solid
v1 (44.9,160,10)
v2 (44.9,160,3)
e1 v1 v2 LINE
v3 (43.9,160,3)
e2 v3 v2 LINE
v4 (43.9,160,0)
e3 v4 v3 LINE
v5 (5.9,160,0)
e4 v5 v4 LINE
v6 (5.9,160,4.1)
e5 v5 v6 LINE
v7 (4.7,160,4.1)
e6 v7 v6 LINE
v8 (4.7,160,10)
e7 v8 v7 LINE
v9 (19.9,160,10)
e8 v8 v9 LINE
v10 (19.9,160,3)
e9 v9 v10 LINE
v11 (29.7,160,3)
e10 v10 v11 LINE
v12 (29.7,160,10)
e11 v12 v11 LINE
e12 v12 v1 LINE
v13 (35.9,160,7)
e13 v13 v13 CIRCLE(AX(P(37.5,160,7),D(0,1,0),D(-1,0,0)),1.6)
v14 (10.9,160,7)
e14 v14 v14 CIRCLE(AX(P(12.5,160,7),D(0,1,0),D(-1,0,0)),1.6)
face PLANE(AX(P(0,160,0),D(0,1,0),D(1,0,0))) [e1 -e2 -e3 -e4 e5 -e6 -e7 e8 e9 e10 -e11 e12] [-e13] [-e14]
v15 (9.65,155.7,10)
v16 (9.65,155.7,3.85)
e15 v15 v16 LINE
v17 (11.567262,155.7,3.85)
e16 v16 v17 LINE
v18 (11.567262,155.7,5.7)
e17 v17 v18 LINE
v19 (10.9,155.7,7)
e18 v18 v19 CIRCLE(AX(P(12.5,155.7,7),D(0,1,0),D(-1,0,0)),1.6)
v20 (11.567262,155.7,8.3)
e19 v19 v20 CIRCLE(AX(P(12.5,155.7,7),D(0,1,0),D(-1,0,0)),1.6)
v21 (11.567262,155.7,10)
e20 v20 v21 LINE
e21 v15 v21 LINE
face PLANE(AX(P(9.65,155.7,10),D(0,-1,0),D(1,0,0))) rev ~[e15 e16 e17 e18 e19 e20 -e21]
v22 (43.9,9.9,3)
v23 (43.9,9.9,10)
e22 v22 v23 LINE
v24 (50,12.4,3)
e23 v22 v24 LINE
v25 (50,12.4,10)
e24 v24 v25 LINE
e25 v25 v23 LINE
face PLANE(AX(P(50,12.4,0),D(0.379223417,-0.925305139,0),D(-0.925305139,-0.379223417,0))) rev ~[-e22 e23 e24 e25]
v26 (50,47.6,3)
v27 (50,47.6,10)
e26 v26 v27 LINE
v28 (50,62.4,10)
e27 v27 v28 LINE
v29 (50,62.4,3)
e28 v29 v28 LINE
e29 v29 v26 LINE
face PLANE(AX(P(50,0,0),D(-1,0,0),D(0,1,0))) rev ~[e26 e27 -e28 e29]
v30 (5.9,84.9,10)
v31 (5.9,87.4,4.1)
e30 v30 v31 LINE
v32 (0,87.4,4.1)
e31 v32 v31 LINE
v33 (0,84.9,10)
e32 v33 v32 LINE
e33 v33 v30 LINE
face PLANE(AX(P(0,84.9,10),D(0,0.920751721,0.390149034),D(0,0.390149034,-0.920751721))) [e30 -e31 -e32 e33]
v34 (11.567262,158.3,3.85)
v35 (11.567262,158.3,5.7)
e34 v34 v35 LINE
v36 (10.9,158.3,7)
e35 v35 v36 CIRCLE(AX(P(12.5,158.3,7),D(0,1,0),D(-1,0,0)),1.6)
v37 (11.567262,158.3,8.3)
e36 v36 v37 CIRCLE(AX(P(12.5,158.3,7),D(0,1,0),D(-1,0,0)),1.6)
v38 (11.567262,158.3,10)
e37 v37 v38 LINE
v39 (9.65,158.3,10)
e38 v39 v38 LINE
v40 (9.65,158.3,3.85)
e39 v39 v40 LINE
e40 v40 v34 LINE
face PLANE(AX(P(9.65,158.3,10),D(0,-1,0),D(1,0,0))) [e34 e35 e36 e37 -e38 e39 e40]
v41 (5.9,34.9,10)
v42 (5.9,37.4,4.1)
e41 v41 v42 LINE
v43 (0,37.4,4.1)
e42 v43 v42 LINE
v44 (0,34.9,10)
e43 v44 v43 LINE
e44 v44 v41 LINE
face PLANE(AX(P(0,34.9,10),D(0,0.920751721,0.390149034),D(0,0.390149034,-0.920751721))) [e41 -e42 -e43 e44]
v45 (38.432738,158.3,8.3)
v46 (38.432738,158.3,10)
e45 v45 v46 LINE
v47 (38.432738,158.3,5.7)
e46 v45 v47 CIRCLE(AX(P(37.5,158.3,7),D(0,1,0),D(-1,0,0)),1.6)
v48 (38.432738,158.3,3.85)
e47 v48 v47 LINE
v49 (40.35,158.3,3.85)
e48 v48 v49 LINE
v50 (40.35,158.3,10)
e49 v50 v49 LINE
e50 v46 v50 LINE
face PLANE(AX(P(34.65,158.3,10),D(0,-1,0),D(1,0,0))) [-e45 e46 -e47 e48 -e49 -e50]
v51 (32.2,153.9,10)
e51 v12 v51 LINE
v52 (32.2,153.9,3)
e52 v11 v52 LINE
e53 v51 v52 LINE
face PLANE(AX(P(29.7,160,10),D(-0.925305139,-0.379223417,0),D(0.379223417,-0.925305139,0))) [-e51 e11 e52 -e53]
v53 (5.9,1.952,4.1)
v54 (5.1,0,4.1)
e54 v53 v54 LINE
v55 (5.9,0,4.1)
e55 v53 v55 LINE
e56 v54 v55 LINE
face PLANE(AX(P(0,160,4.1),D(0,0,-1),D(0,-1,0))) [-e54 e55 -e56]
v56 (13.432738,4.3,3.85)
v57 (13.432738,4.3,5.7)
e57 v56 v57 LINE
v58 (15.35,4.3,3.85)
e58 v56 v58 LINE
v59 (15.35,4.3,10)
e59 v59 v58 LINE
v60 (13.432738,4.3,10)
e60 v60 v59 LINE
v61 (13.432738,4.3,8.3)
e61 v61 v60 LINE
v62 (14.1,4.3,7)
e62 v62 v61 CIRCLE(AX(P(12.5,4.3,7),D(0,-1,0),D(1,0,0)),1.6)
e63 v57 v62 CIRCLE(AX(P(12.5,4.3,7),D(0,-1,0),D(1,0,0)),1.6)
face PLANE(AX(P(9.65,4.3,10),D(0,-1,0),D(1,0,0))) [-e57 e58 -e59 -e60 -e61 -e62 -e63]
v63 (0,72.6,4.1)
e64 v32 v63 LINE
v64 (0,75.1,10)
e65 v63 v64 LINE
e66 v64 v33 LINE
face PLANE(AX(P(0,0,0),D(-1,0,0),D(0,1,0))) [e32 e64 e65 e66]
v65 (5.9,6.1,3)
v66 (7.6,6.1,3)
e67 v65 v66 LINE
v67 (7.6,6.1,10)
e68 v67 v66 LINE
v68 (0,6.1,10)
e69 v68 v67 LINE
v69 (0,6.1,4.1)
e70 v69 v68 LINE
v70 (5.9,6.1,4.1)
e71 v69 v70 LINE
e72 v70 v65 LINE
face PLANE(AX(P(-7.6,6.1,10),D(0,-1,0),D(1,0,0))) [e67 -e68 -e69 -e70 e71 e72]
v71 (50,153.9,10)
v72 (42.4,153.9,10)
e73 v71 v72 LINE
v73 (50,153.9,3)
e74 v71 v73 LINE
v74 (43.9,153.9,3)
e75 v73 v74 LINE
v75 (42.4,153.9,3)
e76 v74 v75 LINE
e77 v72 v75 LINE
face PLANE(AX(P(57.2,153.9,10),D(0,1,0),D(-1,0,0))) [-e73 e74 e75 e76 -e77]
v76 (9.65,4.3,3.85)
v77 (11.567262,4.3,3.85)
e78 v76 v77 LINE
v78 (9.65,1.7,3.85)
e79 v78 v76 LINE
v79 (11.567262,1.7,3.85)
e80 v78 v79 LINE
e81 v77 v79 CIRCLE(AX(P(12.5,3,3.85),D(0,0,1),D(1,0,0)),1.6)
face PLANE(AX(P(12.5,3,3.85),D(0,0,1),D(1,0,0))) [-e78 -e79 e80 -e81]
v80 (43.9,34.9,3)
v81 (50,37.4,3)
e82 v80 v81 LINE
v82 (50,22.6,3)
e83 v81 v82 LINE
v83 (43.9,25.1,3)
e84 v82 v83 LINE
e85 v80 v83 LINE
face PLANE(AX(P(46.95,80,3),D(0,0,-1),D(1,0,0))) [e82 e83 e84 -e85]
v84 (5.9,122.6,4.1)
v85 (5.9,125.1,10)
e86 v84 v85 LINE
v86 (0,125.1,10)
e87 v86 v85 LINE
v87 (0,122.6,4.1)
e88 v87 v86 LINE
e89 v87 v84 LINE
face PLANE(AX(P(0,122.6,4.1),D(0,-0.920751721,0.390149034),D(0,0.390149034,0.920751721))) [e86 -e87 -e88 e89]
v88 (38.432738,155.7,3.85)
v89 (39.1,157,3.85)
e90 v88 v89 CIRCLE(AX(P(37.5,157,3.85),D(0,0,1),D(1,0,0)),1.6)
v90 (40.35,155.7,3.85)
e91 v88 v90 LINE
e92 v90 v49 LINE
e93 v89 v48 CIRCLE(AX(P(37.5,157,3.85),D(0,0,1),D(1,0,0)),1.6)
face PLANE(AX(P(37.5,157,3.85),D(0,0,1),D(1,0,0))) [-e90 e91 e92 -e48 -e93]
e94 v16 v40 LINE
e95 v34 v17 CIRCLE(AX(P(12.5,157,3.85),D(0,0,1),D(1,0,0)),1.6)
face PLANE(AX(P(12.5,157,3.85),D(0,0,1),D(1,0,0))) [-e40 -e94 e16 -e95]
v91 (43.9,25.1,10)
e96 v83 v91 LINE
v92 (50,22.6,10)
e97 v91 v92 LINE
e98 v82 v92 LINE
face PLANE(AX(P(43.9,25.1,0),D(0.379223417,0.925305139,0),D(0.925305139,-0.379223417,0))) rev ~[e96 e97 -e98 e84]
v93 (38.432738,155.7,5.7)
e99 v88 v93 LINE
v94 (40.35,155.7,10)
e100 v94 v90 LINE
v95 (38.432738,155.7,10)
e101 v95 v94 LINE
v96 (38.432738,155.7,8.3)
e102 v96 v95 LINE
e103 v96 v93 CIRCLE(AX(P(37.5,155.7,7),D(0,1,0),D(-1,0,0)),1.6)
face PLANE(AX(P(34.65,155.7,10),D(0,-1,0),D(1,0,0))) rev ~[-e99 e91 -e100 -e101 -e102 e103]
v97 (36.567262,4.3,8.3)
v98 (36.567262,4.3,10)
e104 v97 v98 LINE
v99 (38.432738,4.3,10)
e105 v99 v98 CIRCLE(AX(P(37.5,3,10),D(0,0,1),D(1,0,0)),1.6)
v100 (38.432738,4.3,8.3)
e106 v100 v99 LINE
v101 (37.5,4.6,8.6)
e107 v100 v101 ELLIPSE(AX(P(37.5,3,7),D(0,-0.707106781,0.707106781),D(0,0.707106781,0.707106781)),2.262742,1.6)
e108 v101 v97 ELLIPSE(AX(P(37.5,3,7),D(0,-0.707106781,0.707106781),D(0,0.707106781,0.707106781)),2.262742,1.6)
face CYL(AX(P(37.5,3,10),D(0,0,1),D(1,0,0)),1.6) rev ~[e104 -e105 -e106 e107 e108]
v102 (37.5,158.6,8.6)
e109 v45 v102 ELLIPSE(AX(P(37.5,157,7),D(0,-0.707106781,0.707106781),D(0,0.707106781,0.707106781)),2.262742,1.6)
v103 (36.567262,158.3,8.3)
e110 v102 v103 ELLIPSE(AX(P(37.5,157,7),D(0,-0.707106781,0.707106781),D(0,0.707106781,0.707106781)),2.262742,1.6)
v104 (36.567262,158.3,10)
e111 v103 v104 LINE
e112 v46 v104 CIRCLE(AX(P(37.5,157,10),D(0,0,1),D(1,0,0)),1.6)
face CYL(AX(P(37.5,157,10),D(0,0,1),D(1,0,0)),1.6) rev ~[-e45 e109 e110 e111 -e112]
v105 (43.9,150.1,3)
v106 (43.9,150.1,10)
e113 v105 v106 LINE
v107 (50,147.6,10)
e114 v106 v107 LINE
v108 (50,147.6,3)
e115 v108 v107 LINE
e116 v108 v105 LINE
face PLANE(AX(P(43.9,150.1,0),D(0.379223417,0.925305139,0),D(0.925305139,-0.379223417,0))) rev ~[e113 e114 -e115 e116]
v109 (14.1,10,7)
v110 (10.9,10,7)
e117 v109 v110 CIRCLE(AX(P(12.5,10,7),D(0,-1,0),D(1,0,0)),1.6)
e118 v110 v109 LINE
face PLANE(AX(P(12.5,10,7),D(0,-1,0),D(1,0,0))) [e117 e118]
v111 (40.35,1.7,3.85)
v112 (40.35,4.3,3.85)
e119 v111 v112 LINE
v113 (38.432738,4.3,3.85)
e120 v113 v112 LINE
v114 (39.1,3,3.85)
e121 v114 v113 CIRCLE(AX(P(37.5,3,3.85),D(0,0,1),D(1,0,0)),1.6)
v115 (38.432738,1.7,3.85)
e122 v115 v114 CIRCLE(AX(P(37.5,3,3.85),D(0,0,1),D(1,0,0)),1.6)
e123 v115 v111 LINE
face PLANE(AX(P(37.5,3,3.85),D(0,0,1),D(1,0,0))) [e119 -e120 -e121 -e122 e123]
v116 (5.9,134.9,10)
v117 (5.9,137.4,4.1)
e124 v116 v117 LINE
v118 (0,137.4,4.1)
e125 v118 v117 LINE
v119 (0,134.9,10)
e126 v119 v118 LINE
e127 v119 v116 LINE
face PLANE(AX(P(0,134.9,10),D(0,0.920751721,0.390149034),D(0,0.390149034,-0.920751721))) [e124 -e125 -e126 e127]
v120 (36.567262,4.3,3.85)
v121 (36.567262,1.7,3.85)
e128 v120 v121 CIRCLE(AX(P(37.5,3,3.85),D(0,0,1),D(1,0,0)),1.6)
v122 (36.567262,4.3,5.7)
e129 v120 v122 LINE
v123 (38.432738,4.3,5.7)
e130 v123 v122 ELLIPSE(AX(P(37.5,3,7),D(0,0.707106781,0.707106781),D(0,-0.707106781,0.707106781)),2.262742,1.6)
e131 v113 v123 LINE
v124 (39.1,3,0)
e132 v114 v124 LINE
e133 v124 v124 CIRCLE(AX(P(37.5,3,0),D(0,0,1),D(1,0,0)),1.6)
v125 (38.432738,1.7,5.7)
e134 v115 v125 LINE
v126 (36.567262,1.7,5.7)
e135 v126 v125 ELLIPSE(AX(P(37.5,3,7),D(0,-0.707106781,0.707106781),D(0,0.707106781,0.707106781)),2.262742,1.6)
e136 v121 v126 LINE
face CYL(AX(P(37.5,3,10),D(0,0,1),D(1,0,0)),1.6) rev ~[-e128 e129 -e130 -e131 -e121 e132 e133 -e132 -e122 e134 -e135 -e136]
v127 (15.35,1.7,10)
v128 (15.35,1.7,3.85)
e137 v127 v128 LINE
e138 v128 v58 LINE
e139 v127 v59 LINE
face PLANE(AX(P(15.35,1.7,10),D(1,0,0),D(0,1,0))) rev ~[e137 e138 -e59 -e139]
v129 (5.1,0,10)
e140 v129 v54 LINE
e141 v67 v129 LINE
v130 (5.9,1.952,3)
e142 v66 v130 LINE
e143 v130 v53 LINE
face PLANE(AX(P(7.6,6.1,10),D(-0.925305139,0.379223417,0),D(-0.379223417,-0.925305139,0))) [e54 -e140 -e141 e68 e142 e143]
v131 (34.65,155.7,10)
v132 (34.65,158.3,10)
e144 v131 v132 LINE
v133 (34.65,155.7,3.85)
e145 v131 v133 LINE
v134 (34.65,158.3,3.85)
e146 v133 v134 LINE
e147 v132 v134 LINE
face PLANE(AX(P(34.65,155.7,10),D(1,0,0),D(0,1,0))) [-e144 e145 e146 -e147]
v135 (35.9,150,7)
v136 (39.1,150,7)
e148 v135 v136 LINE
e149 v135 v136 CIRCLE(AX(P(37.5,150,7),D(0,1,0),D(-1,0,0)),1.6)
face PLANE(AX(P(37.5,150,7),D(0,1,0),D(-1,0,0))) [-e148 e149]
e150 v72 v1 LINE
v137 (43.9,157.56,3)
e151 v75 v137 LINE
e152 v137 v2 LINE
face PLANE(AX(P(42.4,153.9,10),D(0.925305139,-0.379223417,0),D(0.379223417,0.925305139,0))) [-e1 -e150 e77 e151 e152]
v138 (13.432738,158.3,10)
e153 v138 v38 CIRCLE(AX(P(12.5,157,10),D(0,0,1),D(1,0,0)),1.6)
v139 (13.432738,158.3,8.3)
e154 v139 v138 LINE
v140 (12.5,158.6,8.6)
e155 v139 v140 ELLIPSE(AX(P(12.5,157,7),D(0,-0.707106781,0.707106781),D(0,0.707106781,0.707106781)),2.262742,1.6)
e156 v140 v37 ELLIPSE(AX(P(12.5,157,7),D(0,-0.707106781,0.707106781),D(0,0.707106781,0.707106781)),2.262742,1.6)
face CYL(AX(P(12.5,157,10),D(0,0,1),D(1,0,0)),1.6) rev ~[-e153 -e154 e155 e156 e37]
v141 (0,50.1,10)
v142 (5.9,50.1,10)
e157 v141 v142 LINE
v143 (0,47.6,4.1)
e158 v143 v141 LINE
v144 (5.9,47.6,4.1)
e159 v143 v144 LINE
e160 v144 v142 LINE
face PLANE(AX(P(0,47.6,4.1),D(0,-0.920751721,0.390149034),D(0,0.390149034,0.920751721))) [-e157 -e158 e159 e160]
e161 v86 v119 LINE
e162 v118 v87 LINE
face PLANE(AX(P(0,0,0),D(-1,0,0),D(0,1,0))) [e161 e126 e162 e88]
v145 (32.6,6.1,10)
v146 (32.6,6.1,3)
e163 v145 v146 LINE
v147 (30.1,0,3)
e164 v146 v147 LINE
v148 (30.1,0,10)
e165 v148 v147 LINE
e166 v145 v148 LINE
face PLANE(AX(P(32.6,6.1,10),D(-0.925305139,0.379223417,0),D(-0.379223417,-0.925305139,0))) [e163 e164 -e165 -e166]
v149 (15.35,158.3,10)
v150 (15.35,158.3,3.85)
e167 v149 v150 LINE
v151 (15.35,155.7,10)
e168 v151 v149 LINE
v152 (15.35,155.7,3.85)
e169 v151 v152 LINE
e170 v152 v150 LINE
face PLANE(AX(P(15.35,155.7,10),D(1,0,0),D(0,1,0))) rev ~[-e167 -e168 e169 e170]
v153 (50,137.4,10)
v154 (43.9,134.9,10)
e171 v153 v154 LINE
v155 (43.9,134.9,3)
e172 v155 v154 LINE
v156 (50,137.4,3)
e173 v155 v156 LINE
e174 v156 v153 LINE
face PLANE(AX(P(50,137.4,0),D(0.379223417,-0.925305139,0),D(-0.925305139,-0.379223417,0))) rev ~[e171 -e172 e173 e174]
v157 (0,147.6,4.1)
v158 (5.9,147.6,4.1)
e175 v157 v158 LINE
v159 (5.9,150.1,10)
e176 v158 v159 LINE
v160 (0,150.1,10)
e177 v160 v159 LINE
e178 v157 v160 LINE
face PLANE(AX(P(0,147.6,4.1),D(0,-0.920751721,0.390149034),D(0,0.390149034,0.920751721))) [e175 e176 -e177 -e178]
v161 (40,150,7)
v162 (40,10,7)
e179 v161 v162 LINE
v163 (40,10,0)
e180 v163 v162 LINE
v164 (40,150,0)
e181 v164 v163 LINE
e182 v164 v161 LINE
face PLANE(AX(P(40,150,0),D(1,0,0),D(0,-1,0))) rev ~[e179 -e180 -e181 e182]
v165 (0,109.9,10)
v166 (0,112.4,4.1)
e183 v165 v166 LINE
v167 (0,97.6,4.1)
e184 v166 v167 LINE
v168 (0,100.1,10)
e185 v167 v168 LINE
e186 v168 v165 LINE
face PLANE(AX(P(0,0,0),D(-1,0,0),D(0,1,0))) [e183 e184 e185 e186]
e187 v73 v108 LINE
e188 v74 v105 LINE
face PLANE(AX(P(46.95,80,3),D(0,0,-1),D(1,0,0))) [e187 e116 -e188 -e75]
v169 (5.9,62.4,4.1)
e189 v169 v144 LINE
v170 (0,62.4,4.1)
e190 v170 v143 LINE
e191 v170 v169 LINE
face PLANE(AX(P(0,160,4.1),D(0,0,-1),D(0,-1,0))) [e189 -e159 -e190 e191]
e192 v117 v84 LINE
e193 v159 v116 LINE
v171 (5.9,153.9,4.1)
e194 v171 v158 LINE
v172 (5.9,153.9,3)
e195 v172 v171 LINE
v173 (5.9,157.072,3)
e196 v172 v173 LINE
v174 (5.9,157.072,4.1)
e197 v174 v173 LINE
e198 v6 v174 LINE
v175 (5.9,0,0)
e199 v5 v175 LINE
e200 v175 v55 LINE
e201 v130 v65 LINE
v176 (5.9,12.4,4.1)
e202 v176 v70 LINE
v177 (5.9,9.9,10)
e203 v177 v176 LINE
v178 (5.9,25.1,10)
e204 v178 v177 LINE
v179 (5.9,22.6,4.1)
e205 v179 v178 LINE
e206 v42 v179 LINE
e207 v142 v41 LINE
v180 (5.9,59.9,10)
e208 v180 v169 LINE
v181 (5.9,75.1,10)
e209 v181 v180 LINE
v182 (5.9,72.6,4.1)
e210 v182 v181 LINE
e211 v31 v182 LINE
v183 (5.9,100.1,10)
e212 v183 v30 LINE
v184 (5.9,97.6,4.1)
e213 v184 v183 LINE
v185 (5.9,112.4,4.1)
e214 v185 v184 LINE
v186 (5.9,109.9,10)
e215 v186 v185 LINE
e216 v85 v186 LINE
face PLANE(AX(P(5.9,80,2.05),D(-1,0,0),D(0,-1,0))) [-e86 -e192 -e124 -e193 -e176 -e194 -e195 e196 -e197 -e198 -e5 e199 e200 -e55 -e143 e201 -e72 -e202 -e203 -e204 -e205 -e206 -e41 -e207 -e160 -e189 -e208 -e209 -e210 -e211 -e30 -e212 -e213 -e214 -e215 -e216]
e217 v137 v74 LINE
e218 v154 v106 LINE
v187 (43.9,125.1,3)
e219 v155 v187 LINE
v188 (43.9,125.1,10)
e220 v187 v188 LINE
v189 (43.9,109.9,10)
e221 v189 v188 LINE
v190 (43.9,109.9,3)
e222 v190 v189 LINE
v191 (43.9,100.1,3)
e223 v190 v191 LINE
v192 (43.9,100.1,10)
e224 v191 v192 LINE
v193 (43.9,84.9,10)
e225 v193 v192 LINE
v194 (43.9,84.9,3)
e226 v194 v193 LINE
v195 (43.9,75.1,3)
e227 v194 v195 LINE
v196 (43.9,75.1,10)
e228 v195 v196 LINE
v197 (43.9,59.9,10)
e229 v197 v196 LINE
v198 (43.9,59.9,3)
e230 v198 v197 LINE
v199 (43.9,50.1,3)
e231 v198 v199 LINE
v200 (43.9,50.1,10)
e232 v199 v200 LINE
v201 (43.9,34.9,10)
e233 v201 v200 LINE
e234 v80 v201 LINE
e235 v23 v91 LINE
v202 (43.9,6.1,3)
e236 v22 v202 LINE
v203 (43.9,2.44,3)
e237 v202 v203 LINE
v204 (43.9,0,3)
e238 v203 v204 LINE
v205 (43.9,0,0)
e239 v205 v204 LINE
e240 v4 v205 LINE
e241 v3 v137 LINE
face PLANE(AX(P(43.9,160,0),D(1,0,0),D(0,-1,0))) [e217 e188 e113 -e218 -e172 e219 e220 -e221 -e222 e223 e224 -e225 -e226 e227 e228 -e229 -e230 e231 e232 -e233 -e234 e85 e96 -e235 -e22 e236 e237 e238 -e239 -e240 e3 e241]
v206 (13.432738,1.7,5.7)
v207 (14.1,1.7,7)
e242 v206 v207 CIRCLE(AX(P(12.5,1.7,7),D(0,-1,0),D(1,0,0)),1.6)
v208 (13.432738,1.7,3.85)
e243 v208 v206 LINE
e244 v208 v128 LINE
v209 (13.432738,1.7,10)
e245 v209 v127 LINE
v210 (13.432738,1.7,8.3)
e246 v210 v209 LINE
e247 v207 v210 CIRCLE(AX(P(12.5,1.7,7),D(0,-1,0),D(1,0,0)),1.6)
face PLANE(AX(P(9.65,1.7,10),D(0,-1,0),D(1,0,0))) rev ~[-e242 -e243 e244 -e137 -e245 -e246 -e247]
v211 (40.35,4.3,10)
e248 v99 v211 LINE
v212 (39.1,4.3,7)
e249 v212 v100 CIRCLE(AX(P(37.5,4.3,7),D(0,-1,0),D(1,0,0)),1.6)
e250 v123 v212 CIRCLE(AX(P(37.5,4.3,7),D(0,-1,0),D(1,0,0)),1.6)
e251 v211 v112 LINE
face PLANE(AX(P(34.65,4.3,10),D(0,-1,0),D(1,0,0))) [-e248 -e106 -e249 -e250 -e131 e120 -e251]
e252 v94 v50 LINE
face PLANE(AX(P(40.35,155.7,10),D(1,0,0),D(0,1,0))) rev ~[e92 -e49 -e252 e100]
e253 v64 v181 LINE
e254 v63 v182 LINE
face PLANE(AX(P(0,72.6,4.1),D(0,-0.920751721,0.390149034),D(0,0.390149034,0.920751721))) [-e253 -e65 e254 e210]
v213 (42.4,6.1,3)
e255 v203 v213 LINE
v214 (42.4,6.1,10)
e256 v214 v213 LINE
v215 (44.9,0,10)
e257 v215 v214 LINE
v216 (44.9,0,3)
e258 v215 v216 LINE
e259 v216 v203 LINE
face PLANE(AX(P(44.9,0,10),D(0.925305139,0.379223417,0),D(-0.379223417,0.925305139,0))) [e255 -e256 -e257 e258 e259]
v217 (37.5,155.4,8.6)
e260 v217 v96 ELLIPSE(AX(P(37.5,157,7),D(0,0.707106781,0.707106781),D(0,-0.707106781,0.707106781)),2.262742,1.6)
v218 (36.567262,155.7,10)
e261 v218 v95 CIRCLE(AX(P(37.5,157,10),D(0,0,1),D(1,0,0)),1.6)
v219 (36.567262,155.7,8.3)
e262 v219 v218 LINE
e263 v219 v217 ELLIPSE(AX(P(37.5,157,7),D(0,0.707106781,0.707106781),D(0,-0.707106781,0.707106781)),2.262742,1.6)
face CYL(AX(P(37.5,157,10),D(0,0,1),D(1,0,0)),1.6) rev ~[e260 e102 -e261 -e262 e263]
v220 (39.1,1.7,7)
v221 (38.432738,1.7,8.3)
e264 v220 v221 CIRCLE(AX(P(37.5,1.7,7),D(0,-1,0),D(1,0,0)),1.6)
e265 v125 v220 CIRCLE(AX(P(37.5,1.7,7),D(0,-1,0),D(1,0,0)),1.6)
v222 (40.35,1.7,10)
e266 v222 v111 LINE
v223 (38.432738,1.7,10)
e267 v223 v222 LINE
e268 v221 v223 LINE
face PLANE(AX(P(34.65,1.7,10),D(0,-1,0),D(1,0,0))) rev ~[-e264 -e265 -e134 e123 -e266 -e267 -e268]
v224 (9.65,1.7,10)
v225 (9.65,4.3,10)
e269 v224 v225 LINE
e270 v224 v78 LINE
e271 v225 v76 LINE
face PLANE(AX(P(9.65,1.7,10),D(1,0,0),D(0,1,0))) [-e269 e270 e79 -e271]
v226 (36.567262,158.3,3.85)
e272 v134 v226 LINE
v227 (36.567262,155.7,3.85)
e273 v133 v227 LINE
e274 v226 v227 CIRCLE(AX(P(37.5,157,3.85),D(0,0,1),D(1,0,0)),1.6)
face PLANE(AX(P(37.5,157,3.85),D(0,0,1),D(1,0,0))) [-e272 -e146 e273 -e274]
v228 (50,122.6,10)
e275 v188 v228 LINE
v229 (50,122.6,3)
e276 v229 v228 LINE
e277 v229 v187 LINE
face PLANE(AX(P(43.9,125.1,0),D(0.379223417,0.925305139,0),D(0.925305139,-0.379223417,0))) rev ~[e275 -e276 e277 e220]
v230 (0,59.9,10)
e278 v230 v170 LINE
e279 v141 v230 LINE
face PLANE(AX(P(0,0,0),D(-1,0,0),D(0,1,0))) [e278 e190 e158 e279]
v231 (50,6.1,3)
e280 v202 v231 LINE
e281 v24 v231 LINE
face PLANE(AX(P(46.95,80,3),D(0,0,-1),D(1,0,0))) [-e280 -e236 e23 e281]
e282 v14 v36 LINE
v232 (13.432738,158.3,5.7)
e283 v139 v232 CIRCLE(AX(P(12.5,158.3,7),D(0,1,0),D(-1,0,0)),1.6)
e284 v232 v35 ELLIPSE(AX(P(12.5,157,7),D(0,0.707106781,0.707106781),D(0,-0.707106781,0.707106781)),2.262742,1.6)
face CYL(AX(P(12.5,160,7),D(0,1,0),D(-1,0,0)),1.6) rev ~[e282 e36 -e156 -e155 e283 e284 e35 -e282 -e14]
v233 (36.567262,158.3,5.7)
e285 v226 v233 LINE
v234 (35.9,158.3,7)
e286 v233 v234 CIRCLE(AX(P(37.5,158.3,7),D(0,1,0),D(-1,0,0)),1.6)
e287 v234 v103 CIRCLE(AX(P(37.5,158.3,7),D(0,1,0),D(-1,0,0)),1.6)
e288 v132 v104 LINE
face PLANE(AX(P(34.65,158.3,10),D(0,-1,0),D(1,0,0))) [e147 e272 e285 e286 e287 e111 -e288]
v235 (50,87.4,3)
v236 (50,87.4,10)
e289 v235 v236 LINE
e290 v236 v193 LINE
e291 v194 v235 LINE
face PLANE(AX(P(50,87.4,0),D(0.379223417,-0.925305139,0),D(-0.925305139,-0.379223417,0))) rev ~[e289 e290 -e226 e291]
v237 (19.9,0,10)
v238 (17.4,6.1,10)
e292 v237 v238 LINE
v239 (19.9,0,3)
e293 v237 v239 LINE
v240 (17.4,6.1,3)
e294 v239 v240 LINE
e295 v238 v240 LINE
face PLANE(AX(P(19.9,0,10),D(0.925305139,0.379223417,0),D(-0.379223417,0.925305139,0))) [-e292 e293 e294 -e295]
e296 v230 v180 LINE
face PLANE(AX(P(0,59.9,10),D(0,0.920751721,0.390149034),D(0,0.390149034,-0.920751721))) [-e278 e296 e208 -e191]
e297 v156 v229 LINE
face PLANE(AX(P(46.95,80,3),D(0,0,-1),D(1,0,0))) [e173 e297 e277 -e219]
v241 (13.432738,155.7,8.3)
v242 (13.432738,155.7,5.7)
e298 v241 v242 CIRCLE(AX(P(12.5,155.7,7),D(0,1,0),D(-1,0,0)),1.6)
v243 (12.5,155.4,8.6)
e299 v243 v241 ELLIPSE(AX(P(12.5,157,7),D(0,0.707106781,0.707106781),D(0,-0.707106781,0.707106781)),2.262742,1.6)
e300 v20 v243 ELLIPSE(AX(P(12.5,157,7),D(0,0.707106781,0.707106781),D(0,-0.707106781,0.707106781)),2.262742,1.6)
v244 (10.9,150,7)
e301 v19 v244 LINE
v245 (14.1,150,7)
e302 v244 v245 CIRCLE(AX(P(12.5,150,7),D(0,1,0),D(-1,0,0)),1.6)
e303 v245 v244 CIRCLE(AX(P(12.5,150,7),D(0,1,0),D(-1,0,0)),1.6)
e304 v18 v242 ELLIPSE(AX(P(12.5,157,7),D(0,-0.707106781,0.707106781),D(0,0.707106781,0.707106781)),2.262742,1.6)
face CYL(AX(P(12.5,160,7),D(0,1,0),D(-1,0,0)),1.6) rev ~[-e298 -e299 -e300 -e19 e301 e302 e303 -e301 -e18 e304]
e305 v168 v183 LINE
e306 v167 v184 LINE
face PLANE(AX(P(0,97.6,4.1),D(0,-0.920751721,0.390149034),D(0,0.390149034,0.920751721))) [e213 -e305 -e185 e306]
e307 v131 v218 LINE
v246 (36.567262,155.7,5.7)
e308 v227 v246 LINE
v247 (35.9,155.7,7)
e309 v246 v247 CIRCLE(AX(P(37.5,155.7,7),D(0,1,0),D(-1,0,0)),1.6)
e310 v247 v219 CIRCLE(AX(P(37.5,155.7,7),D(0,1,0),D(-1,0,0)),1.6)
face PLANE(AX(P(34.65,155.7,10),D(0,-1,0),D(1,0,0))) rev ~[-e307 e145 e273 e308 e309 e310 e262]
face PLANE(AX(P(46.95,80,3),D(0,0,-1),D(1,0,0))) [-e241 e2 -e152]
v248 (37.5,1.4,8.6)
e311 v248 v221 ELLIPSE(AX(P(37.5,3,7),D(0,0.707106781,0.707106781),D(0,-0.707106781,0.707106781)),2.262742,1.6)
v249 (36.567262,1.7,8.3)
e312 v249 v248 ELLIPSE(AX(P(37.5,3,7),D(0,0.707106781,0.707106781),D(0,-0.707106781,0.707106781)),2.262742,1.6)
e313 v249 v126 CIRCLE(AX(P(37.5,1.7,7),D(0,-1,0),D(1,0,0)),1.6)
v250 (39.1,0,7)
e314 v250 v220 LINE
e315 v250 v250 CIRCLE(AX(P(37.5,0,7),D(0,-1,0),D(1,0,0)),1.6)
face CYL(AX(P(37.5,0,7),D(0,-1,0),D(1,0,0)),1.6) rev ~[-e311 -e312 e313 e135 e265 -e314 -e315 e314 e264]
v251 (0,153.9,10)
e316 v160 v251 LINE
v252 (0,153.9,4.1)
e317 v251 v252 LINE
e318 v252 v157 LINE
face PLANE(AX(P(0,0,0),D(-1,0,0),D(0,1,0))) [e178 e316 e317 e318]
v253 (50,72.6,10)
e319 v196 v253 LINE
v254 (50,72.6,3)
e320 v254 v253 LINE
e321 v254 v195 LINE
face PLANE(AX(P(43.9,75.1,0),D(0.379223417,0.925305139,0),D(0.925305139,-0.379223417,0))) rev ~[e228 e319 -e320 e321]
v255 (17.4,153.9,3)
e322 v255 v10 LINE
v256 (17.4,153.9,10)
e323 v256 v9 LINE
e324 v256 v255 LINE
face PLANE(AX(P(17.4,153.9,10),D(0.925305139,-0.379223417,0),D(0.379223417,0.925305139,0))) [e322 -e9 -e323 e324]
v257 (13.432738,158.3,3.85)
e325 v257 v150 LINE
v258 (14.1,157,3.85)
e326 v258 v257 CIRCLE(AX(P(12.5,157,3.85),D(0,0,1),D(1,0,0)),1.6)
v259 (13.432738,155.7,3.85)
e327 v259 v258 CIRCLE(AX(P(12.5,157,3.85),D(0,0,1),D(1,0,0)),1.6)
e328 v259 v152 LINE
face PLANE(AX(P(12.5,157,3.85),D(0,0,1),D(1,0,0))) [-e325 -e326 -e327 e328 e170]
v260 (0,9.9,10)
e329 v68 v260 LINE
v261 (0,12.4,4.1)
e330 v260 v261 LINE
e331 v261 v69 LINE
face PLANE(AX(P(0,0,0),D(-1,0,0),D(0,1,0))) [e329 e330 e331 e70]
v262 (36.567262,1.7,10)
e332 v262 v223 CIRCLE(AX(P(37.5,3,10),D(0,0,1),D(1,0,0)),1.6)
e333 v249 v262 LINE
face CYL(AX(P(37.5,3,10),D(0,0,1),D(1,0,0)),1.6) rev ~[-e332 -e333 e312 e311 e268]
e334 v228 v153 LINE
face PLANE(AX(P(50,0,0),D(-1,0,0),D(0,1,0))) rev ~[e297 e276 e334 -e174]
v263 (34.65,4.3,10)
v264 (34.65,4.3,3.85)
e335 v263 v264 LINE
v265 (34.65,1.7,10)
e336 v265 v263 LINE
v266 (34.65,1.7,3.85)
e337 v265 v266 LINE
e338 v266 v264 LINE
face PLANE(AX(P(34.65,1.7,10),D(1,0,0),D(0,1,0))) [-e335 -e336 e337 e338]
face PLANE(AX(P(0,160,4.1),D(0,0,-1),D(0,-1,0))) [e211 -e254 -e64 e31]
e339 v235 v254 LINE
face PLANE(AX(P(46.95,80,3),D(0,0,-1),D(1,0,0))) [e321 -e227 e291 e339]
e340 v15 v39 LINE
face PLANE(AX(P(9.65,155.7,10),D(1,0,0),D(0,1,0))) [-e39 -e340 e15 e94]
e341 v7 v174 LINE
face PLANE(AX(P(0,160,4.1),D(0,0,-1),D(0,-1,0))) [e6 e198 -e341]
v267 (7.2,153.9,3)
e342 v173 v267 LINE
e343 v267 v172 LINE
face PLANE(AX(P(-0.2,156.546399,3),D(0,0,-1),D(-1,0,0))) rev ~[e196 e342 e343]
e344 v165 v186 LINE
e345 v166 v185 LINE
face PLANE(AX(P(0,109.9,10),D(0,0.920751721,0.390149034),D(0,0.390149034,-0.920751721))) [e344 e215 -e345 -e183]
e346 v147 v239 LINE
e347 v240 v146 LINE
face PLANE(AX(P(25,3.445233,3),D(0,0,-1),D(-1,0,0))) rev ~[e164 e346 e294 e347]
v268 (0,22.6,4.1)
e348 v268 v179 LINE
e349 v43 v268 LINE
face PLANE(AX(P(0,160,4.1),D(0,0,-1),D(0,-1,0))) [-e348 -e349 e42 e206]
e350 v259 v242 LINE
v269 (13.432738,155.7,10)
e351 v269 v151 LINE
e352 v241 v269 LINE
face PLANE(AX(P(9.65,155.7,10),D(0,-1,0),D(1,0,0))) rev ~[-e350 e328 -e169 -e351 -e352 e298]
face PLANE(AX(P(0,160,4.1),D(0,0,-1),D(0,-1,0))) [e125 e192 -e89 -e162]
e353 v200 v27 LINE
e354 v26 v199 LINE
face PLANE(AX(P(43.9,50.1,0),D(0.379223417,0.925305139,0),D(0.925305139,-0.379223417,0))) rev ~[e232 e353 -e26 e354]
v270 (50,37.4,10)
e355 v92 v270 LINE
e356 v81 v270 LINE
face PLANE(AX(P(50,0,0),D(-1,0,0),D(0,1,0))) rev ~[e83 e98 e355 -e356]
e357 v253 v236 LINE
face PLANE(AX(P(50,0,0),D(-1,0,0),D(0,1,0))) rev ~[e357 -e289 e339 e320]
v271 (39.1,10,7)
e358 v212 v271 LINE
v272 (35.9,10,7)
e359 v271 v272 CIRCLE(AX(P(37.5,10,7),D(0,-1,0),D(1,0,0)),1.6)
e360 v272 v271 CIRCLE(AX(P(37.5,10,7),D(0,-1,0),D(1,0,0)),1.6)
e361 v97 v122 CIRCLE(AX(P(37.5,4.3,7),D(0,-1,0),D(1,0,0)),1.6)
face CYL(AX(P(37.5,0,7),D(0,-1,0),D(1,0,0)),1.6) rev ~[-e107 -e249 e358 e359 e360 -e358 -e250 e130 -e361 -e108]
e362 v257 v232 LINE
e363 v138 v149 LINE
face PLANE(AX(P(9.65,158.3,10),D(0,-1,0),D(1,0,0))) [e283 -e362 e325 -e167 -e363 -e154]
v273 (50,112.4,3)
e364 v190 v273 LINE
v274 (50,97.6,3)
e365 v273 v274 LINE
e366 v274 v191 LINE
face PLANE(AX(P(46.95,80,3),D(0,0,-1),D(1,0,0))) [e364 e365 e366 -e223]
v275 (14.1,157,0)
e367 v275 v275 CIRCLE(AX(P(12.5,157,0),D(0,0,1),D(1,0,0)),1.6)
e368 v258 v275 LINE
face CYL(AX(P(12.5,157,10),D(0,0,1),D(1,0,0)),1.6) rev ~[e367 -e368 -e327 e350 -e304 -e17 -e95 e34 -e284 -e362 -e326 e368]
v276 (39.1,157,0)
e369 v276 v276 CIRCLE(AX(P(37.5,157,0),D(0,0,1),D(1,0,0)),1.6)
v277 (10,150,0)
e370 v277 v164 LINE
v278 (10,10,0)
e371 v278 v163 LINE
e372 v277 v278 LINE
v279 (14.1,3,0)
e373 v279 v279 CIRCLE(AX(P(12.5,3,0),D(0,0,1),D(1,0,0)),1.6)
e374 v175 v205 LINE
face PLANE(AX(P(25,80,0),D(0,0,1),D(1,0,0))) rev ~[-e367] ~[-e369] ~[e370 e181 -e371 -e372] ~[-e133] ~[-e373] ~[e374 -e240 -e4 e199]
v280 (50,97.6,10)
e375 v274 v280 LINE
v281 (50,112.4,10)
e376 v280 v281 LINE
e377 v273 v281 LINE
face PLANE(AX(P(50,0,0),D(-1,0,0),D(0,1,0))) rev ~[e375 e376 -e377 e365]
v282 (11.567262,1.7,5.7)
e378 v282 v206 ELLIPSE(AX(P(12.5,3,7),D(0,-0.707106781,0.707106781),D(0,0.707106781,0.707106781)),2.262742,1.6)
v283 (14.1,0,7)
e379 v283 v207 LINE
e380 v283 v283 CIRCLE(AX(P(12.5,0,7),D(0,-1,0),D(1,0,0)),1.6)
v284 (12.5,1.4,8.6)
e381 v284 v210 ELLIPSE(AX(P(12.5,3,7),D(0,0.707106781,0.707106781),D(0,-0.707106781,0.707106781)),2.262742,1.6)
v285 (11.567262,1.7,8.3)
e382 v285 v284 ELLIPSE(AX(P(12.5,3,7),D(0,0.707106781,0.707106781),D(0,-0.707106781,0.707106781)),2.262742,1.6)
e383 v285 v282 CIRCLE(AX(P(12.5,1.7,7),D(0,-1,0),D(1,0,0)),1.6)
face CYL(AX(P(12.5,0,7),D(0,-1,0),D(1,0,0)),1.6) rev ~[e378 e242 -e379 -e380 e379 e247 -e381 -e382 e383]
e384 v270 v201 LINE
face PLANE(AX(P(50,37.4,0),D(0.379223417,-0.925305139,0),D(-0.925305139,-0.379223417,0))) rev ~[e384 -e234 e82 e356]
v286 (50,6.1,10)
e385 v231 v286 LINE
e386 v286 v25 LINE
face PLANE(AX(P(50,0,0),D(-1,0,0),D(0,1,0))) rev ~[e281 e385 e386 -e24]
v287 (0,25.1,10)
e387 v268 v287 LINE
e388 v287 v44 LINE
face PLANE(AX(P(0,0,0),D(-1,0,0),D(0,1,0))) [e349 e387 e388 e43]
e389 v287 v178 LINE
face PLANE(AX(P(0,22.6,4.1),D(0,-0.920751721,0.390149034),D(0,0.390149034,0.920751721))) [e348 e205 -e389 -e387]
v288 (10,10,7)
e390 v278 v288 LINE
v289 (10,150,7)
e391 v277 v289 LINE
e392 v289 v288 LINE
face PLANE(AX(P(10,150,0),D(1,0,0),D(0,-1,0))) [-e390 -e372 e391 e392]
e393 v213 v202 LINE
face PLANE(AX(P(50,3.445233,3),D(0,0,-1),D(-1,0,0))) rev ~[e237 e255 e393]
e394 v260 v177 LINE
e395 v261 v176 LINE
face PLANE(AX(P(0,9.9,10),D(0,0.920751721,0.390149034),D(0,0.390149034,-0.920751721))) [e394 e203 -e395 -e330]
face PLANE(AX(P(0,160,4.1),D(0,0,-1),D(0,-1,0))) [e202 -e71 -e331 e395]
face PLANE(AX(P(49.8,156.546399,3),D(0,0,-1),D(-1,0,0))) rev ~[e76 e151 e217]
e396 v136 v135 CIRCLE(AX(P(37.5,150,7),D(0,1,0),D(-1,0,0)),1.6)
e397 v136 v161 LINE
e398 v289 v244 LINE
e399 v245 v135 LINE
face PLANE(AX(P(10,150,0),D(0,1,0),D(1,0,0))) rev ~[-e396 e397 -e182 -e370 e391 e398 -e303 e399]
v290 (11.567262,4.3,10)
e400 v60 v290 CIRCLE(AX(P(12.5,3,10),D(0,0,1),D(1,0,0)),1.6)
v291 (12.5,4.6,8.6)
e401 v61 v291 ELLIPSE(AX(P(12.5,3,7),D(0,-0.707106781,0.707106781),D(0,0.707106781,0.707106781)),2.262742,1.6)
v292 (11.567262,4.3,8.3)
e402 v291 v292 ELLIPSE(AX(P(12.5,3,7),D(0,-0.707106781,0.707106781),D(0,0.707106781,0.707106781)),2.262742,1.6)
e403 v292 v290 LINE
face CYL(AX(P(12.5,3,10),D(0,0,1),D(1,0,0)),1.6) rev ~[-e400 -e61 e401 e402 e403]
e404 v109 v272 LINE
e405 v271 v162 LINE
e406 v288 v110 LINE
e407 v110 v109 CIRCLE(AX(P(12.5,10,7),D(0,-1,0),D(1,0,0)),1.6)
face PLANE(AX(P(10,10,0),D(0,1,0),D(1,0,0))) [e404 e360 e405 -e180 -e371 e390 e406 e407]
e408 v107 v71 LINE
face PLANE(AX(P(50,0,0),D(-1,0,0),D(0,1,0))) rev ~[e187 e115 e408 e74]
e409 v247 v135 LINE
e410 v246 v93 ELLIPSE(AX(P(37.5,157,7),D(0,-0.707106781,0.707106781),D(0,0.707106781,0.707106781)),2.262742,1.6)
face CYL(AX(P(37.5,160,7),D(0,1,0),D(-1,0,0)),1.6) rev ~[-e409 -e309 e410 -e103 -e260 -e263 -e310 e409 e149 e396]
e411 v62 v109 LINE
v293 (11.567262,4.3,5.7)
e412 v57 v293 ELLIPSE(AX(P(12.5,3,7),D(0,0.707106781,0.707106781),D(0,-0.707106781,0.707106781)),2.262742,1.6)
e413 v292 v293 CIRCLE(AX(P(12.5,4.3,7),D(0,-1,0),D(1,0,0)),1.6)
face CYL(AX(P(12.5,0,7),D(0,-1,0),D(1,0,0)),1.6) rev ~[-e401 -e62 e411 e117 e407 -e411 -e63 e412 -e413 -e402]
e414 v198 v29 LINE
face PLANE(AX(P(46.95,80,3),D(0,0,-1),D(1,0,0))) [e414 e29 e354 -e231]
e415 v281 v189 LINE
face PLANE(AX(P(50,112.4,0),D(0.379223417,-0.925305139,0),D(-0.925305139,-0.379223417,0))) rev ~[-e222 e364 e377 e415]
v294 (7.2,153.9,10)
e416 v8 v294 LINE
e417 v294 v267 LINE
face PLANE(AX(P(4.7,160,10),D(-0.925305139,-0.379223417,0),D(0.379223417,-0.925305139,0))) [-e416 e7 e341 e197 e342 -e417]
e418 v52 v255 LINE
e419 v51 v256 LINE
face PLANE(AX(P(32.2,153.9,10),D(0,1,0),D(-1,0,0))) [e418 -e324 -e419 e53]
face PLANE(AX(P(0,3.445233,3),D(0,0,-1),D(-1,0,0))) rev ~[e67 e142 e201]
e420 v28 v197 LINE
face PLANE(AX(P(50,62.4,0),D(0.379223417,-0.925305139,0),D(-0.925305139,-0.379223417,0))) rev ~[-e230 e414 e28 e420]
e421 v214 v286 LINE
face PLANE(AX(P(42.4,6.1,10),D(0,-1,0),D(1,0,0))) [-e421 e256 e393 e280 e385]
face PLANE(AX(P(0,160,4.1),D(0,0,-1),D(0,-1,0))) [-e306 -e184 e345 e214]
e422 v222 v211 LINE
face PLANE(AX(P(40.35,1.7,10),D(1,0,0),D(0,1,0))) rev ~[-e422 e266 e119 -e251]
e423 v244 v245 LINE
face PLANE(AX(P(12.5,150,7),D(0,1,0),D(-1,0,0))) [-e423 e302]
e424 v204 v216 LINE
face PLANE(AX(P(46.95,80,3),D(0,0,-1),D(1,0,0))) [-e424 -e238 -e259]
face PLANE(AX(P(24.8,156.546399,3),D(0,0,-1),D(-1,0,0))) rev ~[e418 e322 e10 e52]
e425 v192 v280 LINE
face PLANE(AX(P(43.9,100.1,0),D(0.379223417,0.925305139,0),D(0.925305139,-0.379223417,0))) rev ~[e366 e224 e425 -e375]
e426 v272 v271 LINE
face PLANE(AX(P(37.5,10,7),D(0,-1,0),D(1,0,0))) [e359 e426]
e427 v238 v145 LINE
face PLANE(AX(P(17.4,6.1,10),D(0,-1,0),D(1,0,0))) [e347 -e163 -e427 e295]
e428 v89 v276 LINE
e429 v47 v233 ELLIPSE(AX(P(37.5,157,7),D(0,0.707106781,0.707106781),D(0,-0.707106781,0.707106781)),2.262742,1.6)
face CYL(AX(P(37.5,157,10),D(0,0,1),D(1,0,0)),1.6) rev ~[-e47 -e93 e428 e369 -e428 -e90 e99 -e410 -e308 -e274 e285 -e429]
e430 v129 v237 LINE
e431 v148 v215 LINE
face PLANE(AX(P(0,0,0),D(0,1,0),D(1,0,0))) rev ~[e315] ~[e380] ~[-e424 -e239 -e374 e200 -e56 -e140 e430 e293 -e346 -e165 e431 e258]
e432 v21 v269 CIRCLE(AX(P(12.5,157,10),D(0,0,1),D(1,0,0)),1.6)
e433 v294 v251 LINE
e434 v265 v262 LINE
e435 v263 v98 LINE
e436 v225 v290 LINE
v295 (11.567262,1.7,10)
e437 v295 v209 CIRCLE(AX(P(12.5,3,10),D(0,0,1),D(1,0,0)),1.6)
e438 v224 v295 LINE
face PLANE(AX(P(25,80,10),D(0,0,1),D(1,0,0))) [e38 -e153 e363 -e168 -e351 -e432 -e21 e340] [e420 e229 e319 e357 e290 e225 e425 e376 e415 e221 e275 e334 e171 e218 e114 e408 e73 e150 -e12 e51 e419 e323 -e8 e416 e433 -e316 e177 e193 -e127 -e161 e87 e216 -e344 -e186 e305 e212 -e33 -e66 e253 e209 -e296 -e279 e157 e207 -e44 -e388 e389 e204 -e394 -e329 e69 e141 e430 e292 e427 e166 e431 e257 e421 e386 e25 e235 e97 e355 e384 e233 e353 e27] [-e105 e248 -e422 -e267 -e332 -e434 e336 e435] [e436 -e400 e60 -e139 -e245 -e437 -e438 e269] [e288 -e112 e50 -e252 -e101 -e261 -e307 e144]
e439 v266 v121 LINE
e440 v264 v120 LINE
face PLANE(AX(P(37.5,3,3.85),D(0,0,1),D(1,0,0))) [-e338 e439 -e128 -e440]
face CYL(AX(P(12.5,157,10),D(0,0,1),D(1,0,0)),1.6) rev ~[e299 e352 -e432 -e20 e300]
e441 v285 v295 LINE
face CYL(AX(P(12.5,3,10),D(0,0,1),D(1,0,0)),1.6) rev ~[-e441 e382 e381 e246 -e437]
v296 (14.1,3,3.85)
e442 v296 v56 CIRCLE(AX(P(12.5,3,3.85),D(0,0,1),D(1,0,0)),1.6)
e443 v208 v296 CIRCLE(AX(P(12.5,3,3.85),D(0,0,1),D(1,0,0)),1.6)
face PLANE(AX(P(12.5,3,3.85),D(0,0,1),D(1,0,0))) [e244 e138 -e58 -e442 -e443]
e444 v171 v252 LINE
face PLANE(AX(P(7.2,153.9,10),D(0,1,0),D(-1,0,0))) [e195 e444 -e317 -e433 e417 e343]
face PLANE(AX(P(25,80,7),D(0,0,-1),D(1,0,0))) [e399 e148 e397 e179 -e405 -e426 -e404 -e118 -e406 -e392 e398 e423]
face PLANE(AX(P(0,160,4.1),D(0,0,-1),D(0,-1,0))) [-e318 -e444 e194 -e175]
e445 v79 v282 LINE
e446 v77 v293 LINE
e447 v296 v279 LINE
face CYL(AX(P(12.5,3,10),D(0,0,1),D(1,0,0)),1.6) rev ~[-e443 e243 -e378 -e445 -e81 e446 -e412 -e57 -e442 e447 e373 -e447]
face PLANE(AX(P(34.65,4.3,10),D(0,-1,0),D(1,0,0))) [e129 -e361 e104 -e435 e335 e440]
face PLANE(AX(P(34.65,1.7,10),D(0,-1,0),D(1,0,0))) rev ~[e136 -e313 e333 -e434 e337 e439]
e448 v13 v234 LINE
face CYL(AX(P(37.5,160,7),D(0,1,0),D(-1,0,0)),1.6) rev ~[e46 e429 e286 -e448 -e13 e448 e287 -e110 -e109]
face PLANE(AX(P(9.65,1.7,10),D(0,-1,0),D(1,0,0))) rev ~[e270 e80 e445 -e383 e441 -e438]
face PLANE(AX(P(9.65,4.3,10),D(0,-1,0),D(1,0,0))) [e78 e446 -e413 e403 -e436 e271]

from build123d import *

# Parameters (mm, degrees)
SKETCH_W        = 50
SKETCH_H        = 160
PAD_DEPTH       = 10
POCKET_DEPTH    = 7
SKETCH003_R     = 1.6
POCKET002_DEPTH = 10
POCKET003_DEPTH = 10
SKETCH005_W     = 6.1
SKETCH005_H     = 160
POCKET004_DEPTH = 3
POCKET005_DEPTH = 5.9
SKETCH007_W     = 160
SKETCH007_H     = 4.1
POCKET006_DEPTH = 5.9
SKETCH008_W     = 30
SKETCH008_H     = 140
POCKET007_DEPTH = 7
SKETCH009_W     = 5.7
SKETCH009_H     = 2.6
POCKET008_DEPTH = 6.15
SKETCH010_R     = 1.6
POCKET009_DEPTH = 10
SKETCH011_R     = 1.6
POCKET010_DEPTH = 10


with BuildPart() as part:
    # Sketch → Pad (new body)
    with BuildSketch(Plane.XY):
        with Locations((25, 80)):
            Rectangle(SKETCH_W, SKETCH_H)
    extrude(amount=PAD_DEPTH)

    # Sketch001 (on Face6 of Pad) → Pocket (cut)
    with BuildSketch(Plane.XY.offset(10)):
        Polygon((17.4, 6.1), (32.6, 6.1), (30.1, 0), (19.9, 0), align=None)
        Polygon((42.4, 6.1), (57.6, 6.1), (55.1, 0), (44.9, 0), align=None)
        Polygon((-7.6, 6.1), (7.6, 6.1), (5.1, 0), (-5.1, 0), align=None)
        Polygon((32.2, 153.9), (17.4, 153.9), (19.9, 160), (29.7, 160), align=None)
        Polygon((7.2, 153.9), (-7.6, 153.9), (-5.1, 160), (4.7, 160), align=None)
        Polygon((57.2, 153.9), (42.4, 153.9), (44.9, 160), (54.7, 160), align=None)
    extrude(amount=-POCKET_DEPTH, mode=Mode.SUBTRACT)

    # Sketch003 → Pocket002 (cut)
    with BuildSketch(Plane.XY.offset(10)):
        with Locations((12.5, 157)):
            Circle(SKETCH003_R)
        with Locations((37.5, 157)):
            Circle(SKETCH003_R)
        with Locations((12.5, 3)):
            Circle(SKETCH003_R)
        with Locations((37.5, 3)):
            Circle(SKETCH003_R)
    extrude(amount=-POCKET002_DEPTH, mode=Mode.SUBTRACT)

    # Sketch004 (on Face2 of Pocket002) → Pocket003 (cut)
    with BuildSketch(Plane(origin=(0, 0, 0), x_dir=(1, 0, 0), z_dir=(0, 0, -1))):
        Polygon((43.9, -84.9), (43.9, -100.1), (50, -97.6), (50, -87.4), align=None)
        Polygon((43.9, -59.9), (43.9, -75.1), (50, -72.6), (50, -62.4), align=None)
        Polygon((43.9, -34.9), (43.9, -50.1), (50, -47.6), (50, -37.4), align=None)
        Polygon((43.9, -9.9), (43.9, -25.1), (50, -22.6), (50, -12.4), align=None)
        Polygon((43.9, -134.9), (43.9, -150.1), (50, -147.6), (50, -137.4), align=None)
        Polygon((43.9, -109.9), (43.9, -125.1), (50, -122.6), (50, -112.4), align=None)
    extrude(amount=-POCKET003_DEPTH, mode=Mode.SUBTRACT)

    # Sketch005 (on Face2 of Pocket003) → Pocket004 (cut)
    with BuildSketch(Plane(origin=(0, 0, 0), x_dir=(1, 0, 0), z_dir=(0, 0, -1))):
        with Locations((46.95, -80)):
            Rectangle(SKETCH005_W, SKETCH005_H)
    extrude(amount=-POCKET004_DEPTH, mode=Mode.SUBTRACT)

    # Sketch006 (on Face12 of Pocket004) → Pocket005 (cut)
    with BuildSketch(Plane(origin=(0, 0, 0), x_dir=(0, -1, 0), z_dir=(-1, 0, 0))):
        Polygon((-100.1, 10), (-84.9, 10), (-87.4, 4.1), (-97.6, 4.1), align=None)
        Polygon((-75.1, 10), (-59.9, 10), (-62.4, 4.1), (-72.6, 4.1), align=None)
        Polygon((-150.1, 10), (-134.9, 10), (-137.4, 4.1), (-147.6, 4.1), align=None)
        Polygon((-125.1, 10), (-109.9, 10), (-112.4, 4.1), (-122.6, 4.1), align=None)
        Polygon((-50.1, 10), (-34.9, 10), (-37.4, 4.1), (-47.6, 4.1), align=None)
        Polygon((-25.1, 10), (-9.9, 10), (-12.4, 4.1), (-22.6, 4.1), align=None)
    extrude(amount=-POCKET005_DEPTH, mode=Mode.SUBTRACT)

    # Sketch007 (on Face12 of Pocket005) → Pocket006 (cut)
    with BuildSketch(Plane(origin=(0, 0, 0), x_dir=(0, -1, 0), z_dir=(-1, 0, 0))):
        with Locations((-80, 2.05)):
            Rectangle(SKETCH007_W, SKETCH007_H)
    extrude(amount=-POCKET006_DEPTH, mode=Mode.SUBTRACT)

    # Sketch008 (on Face2 of Pocket006) → Pocket007 (cut)
    with BuildSketch(Plane(origin=(0, 0, 0), x_dir=(1, 0, 0), z_dir=(0, 0, -1))):
        with Locations((25, -80)):
            Rectangle(SKETCH008_W, SKETCH008_H)
    extrude(amount=-POCKET007_DEPTH, mode=Mode.SUBTRACT)

    # Sketch009 (on Face6 of Pocket007) → Pocket008 (cut)
    with BuildSketch(Plane.XY.offset(10)):
        with Locations((12.5, 157)):
            Rectangle(SKETCH009_W, SKETCH009_H)
        with Locations((37.5, 157)):
            Rectangle(SKETCH009_W, SKETCH009_H)
        with Locations((12.5, 3)):
            Rectangle(SKETCH009_W, SKETCH009_H)
        with Locations((37.5, 3)):
            Rectangle(SKETCH009_W, SKETCH009_H)
    extrude(amount=-POCKET008_DEPTH, mode=Mode.SUBTRACT)

    # Sketch010 (on Face15 of Pocket008) → Pocket009 (cut)
    with BuildSketch(Plane.XZ):
        with Locations((12.5, 7)):
            Circle(SKETCH010_R)
        with Locations((37.5, 7)):
            Circle(SKETCH010_R)
    extrude(amount=-POCKET009_DEPTH, mode=Mode.SUBTRACT)

    # Sketch011 (on Face1 of Pocket009) → Pocket010 (cut)
    with BuildSketch(Plane(origin=(0, 160, 0), x_dir=(-1, 0, 0), z_dir=(0, 1, 0))):
        with Locations((-37.5, 7)):
            Circle(SKETCH011_R)
        with Locations((-12.5, 7)):
            Circle(SKETCH011_R)
    extrude(amount=-POCKET010_DEPTH, mode=Mode.SUBTRACT)


solid = part.part
